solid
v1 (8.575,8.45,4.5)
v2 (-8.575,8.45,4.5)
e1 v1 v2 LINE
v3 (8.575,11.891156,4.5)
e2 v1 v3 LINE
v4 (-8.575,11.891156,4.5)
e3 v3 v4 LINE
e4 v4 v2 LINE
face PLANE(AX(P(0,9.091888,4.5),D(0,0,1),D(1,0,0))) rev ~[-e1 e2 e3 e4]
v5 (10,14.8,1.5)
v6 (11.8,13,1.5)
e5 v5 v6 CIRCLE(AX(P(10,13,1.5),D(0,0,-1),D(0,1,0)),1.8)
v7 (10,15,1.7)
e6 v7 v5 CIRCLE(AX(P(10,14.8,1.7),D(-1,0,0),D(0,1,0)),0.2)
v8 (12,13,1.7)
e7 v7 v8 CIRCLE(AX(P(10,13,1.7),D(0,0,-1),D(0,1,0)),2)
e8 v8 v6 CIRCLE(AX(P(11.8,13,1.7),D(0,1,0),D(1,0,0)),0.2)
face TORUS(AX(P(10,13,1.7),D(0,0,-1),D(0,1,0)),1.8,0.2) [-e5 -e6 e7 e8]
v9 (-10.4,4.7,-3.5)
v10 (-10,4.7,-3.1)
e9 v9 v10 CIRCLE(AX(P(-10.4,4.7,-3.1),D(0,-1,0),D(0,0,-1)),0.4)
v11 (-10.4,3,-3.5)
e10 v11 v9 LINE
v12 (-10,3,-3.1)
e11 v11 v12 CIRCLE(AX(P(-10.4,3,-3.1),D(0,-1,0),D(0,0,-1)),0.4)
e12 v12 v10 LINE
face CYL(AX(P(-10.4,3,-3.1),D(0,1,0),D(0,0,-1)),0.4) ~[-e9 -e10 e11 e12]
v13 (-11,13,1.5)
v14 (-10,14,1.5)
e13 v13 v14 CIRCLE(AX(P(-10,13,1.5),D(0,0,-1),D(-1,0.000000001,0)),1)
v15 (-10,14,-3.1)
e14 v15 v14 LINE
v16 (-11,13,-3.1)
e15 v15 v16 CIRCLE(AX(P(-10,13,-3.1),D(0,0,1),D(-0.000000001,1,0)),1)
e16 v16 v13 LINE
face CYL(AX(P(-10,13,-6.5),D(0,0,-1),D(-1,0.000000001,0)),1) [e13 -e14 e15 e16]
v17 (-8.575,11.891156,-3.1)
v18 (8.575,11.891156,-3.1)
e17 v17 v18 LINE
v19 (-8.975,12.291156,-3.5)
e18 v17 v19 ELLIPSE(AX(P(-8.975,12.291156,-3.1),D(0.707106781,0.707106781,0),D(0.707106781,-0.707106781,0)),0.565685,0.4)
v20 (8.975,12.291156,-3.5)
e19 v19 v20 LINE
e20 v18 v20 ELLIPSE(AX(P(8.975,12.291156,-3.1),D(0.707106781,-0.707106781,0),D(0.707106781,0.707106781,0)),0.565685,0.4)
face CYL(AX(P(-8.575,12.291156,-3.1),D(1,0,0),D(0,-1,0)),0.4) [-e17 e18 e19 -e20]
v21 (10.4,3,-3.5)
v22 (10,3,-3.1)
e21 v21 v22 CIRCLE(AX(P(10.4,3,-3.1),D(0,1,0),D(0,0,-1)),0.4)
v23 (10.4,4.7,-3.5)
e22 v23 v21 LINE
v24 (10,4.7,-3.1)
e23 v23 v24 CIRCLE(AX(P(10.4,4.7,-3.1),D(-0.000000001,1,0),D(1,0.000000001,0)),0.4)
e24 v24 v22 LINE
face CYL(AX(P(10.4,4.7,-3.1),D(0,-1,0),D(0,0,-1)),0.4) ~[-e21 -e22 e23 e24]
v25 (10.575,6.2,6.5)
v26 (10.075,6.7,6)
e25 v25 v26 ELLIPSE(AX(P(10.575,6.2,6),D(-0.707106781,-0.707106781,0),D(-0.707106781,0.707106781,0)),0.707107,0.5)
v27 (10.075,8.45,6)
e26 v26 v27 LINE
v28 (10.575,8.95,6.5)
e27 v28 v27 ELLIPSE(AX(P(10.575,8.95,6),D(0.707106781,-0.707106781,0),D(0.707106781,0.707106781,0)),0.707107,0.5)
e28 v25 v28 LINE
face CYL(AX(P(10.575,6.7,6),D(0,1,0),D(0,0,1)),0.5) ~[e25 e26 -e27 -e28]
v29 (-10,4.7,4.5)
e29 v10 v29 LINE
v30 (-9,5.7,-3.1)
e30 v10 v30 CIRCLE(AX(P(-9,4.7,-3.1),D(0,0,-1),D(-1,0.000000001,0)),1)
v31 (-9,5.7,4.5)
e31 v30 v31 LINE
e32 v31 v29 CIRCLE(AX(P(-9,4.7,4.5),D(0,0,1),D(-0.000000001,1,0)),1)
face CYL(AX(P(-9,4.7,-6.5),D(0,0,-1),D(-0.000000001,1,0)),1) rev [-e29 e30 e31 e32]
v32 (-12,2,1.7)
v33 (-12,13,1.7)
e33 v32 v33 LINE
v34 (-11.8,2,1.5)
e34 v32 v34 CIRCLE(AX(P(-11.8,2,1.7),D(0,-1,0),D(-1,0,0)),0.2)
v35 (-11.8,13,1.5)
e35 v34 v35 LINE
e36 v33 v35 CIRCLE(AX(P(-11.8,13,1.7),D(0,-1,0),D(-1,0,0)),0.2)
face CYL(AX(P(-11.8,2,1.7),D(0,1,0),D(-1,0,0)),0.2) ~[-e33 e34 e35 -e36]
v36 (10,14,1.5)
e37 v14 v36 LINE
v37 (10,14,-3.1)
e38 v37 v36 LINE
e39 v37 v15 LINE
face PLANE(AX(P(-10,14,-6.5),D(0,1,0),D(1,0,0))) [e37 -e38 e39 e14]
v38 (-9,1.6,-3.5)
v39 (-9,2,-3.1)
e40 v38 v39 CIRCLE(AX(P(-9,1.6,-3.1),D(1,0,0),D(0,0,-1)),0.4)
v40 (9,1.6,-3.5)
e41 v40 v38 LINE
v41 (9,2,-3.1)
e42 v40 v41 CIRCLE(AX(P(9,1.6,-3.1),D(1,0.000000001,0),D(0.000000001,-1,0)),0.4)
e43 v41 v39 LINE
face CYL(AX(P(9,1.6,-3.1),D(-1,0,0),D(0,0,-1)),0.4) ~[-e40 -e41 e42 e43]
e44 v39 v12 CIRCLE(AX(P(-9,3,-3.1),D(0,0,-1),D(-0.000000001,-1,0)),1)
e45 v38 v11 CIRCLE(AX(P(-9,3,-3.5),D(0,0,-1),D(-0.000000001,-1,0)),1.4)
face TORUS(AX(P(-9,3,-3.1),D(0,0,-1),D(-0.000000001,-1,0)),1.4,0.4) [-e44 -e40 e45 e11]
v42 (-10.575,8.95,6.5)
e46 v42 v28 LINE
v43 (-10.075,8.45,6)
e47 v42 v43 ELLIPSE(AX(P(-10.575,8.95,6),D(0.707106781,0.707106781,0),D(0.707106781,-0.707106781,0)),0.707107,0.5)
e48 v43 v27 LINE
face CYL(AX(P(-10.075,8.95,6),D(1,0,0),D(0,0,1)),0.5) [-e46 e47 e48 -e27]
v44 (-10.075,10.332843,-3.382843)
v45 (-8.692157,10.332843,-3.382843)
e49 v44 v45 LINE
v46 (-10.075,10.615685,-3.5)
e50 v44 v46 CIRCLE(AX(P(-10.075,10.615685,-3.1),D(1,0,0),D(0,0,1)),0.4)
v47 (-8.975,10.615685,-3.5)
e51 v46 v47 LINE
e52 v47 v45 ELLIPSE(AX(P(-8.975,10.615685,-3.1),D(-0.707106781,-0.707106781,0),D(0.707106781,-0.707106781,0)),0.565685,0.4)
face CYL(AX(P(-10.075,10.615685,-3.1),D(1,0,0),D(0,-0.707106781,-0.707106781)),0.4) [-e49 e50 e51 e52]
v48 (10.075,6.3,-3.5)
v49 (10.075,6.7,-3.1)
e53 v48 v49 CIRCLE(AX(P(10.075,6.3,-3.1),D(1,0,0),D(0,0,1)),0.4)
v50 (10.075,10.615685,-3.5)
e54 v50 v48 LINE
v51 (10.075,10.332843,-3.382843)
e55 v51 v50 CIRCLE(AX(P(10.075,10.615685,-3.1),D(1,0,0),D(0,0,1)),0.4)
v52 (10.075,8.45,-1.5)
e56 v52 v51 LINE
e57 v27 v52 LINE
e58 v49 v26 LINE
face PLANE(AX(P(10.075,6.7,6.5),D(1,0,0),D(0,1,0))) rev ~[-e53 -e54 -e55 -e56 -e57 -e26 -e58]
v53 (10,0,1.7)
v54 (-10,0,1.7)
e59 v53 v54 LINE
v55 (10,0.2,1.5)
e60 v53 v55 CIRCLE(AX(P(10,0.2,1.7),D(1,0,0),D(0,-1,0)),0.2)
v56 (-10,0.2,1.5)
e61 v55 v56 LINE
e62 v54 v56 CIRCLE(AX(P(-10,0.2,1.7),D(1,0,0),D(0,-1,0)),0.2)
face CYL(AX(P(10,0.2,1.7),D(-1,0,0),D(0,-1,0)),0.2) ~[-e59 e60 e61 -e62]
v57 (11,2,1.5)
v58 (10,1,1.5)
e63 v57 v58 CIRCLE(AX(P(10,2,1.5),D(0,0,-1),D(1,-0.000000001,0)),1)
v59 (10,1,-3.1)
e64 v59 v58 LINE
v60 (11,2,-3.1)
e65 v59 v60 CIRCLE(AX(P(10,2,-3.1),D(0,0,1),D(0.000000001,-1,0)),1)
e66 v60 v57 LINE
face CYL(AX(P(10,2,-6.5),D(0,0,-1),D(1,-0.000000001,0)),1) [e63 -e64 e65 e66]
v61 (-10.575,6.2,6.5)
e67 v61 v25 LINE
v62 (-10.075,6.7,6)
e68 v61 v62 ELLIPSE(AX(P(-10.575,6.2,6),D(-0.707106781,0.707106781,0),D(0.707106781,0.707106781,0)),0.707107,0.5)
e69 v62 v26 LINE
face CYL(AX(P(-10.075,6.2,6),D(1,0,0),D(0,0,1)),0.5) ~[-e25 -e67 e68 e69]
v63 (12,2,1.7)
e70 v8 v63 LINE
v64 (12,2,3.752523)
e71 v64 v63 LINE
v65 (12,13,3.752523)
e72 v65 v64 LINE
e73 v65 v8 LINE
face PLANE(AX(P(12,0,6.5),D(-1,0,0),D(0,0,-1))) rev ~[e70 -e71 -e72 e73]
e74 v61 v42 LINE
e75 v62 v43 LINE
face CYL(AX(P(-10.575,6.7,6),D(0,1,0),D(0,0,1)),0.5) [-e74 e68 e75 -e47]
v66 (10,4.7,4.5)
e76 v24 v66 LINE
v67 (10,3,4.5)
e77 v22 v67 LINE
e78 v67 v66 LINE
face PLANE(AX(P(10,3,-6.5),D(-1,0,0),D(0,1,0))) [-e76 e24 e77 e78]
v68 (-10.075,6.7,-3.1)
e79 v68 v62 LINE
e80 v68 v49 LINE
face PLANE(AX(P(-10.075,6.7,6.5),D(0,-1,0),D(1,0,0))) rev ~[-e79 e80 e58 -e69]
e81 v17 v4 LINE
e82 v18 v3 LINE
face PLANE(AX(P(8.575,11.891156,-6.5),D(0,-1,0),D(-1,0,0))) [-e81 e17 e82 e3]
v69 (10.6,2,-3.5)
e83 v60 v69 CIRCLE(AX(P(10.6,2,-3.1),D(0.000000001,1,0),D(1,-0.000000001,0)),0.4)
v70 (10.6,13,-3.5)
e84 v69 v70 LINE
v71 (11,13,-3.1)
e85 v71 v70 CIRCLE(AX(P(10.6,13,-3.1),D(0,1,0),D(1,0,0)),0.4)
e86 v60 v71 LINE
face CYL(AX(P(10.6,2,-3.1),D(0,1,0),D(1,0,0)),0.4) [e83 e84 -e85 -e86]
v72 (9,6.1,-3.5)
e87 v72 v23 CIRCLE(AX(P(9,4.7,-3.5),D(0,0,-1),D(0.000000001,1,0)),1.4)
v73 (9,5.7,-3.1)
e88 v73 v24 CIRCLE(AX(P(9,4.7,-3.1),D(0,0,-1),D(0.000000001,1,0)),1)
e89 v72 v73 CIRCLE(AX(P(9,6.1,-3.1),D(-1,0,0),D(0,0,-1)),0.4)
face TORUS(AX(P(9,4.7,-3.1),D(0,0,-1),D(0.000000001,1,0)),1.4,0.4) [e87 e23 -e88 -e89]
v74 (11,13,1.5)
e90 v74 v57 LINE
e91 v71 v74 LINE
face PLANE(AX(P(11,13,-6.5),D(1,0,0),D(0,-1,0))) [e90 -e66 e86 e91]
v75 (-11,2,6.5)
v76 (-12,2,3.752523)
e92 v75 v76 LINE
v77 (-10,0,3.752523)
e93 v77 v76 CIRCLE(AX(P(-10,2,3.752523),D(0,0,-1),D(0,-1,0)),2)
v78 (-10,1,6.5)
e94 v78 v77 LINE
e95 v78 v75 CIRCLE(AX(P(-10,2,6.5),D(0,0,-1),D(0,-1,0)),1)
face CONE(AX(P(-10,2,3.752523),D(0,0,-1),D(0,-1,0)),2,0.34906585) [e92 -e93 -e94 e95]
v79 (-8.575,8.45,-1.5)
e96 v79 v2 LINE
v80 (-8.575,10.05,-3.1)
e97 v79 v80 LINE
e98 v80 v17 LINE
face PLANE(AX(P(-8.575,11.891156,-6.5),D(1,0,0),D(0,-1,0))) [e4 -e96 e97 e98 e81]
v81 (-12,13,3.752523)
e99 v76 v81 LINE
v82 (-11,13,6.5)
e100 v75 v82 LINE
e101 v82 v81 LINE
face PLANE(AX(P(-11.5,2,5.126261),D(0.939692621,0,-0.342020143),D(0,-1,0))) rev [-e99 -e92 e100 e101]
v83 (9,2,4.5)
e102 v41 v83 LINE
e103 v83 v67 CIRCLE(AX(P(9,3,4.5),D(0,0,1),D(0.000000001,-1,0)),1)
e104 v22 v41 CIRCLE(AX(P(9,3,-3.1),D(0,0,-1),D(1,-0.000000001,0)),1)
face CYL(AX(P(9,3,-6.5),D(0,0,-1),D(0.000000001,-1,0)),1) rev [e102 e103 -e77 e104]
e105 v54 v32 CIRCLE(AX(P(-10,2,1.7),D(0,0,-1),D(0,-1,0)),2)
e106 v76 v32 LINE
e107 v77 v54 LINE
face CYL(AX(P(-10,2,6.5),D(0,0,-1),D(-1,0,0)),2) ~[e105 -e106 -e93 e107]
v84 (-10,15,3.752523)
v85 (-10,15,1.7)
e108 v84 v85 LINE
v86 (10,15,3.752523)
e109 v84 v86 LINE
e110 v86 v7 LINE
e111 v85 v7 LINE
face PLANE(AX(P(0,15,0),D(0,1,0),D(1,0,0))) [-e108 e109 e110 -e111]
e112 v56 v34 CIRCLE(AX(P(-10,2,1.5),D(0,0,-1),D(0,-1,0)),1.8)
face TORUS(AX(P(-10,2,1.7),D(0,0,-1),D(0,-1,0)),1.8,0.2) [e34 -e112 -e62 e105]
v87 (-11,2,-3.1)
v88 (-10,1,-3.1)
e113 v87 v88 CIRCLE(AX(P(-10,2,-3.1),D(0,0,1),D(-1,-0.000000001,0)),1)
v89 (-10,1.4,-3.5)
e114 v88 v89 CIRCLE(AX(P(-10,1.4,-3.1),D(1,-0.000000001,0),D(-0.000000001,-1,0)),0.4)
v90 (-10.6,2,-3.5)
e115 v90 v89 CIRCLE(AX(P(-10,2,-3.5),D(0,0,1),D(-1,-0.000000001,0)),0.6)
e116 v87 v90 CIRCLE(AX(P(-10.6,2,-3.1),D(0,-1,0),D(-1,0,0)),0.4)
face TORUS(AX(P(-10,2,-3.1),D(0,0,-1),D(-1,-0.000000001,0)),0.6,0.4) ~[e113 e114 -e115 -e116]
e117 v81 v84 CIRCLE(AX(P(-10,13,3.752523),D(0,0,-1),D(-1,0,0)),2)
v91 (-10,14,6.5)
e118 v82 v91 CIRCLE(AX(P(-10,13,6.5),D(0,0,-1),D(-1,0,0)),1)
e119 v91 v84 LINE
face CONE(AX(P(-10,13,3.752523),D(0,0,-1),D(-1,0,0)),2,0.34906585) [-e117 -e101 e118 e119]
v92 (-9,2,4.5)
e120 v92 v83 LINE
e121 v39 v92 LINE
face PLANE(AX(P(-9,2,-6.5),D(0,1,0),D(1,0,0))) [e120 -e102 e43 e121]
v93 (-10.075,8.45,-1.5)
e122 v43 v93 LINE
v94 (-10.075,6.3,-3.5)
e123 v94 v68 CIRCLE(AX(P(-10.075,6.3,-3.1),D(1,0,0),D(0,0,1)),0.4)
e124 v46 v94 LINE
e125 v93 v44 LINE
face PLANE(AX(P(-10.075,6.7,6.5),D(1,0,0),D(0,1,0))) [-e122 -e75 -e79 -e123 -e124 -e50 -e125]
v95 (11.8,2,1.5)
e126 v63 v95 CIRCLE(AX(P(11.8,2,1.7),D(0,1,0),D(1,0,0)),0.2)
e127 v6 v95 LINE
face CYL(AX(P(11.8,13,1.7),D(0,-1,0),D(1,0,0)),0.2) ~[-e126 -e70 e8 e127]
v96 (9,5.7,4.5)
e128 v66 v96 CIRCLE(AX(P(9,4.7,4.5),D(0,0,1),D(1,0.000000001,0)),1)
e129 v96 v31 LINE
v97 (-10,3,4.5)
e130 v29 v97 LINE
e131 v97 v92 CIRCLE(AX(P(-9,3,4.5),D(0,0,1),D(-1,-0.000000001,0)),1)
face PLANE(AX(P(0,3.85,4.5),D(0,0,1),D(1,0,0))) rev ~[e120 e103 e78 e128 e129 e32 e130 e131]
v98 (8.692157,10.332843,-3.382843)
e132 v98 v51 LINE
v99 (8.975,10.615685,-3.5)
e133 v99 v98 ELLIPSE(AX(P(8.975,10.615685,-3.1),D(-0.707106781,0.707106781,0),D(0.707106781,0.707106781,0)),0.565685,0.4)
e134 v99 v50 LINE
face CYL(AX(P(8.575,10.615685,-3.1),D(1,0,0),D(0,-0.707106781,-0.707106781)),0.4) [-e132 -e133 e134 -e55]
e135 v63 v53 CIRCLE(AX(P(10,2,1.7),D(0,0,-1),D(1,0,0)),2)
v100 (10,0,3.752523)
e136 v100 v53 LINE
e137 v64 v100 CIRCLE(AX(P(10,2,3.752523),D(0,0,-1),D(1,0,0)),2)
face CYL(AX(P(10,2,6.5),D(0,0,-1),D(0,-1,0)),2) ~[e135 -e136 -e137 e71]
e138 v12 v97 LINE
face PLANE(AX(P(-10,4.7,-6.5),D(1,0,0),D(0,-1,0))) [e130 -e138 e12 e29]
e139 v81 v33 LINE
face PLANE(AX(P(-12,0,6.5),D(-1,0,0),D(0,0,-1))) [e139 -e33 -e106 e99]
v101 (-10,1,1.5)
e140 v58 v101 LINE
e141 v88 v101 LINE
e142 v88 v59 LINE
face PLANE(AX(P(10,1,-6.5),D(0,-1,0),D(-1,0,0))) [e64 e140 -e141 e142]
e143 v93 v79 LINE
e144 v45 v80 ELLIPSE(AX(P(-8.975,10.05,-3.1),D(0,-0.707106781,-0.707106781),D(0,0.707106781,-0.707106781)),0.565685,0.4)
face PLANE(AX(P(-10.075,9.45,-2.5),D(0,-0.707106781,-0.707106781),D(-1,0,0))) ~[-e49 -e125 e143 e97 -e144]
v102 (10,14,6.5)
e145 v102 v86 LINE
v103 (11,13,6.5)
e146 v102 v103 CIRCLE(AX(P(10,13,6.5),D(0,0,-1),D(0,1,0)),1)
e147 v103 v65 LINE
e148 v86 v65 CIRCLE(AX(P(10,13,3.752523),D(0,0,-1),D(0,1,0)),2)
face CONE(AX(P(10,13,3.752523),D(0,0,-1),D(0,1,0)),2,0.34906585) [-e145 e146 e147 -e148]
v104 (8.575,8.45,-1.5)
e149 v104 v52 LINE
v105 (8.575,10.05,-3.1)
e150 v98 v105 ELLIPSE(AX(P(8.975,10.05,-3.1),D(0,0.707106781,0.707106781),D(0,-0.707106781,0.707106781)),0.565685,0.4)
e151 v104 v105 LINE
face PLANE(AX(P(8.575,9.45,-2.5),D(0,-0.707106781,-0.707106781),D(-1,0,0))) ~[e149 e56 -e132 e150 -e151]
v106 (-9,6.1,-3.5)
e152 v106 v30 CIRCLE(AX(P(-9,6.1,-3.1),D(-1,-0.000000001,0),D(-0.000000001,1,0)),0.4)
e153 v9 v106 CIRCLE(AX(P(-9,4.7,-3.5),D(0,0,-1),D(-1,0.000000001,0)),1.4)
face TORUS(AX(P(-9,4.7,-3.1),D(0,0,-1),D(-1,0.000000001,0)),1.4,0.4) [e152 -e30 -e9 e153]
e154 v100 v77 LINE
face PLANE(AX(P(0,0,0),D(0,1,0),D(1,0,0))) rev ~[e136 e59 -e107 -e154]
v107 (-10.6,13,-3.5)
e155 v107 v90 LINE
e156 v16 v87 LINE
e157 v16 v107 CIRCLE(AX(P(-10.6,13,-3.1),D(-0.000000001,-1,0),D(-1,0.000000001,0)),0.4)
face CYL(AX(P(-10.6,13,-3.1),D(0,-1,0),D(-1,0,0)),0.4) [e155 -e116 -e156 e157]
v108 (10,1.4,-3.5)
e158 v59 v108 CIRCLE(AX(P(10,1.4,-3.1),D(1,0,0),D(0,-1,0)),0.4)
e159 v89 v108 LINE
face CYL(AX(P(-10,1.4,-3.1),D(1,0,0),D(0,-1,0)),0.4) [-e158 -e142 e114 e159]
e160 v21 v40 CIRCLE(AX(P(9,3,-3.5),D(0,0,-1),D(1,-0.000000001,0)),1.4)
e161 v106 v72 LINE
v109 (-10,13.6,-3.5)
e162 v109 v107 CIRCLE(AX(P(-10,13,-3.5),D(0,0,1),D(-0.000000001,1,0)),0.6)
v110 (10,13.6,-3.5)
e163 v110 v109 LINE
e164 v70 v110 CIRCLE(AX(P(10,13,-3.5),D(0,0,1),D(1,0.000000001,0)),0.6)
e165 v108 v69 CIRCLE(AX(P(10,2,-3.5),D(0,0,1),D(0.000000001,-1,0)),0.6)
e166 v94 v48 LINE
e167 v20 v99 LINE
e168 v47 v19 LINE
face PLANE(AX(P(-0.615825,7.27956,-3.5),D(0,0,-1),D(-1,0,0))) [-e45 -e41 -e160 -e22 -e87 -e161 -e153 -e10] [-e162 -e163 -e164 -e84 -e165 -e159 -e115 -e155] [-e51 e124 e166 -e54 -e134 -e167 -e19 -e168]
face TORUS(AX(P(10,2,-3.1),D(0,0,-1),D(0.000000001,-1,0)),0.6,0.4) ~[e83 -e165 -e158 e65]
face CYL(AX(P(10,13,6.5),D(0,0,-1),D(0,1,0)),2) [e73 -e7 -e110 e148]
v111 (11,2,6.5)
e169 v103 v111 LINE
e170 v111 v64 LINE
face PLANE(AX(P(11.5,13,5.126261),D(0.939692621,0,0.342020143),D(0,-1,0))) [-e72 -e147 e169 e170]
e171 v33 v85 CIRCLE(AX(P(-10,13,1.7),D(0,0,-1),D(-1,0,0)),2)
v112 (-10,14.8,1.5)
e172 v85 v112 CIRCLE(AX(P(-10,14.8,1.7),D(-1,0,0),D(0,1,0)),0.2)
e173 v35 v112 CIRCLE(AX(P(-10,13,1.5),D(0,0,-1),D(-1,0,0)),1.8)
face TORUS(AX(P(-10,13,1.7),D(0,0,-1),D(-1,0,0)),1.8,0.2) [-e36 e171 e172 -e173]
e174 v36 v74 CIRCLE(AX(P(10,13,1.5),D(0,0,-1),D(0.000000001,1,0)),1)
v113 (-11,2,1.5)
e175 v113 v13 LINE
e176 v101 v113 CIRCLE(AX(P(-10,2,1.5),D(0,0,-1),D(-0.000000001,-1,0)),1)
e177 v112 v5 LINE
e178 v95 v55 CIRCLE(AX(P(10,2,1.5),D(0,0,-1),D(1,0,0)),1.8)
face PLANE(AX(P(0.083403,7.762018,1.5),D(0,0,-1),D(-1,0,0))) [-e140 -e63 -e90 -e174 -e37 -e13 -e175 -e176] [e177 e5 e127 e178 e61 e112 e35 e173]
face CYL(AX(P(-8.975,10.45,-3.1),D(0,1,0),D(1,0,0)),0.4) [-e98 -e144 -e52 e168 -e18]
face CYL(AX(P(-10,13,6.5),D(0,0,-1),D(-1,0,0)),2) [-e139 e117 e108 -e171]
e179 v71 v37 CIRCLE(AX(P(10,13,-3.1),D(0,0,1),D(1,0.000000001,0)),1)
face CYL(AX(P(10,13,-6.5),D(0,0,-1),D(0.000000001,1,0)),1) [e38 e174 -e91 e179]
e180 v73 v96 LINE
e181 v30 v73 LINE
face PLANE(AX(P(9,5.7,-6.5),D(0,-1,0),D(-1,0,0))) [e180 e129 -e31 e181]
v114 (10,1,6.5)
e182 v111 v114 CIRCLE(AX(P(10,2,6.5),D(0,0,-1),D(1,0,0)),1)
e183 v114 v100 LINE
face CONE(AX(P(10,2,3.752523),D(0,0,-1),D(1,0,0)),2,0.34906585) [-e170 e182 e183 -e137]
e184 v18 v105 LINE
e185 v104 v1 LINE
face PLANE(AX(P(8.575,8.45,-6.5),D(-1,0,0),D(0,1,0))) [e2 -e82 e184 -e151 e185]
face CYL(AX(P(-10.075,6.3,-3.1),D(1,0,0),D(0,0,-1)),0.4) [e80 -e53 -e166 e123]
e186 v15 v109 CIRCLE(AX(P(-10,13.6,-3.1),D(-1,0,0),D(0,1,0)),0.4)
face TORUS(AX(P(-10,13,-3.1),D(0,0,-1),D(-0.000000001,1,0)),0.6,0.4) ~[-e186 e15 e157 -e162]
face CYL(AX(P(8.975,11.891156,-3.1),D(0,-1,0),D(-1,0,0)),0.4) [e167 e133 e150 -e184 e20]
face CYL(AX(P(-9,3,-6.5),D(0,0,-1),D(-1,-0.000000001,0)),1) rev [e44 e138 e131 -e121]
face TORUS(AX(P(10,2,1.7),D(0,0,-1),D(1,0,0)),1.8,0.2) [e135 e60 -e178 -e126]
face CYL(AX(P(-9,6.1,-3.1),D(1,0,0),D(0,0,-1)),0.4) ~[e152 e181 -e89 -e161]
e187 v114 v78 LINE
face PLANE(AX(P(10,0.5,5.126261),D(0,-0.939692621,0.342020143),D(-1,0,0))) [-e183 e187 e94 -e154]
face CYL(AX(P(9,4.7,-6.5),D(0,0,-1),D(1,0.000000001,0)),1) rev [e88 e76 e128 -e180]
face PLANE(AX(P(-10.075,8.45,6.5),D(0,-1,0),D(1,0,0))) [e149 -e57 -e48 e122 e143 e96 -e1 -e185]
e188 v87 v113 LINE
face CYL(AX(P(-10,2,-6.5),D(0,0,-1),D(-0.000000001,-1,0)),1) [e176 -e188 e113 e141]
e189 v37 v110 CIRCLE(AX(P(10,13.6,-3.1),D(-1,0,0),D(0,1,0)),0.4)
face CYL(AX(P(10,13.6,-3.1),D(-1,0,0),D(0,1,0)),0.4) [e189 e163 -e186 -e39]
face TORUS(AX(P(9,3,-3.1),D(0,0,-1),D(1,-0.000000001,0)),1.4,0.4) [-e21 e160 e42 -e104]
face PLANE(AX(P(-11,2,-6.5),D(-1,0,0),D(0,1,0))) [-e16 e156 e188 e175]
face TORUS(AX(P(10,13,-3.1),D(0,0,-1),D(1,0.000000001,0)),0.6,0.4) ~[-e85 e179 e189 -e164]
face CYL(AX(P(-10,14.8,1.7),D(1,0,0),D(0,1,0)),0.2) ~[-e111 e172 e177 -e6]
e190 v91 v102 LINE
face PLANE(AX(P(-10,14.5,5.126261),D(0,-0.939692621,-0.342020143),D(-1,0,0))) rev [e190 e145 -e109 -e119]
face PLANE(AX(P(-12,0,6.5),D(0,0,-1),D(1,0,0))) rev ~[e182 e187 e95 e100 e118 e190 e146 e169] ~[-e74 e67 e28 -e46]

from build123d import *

# Parameters (mm, degrees)
SKETCH1_W           = 24
SKETCH1_H           = 13
BOSS_EXTRUDE1_DEPTH = 15
SKETCH2_W           = 20.15
SKETCH2_H           = 1.75
CUT_EXTRUDE1_DEPTH  = 15
FILLET1_R           = 2
CHAMFER2_SIZE       = 1
CHAMFER2_SIZE2      = 2.747477419
FILLET2_R           = 0.5
CUT_EXTRUDE4_DEPTH  = 11
SKETCH5_W           = 26.855674208
SKETCH5_H           = 19.307728506
CUT_EXTRUDE5_DEPTH  = 8
CUT_EXTRUDE6_DEPTH  = 11
SKETCH7_W           = 29.982721697
SKETCH7_H           = 21.559004648
CUT_EXTRUDE7_DEPTH  = 3
CHAMFER3_SIZE       = 2
FILLET3_R           = 0.4
FILLET4_R           = 0.2


with BuildPart() as part:
    # Sketch1 → Boss-Extrude1 (new body)
    with BuildSketch(Plane(origin=(0, 0, 0), x_dir=(1, 0, 0), z_dir=(0, 1, 0))):
        Rectangle(SKETCH1_W, SKETCH1_H)
    extrude(amount=BOSS_EXTRUDE1_DEPTH)

    # Sketch2 → Cut-Extrude1 (cut)
    with BuildSketch(Plane.XY.offset(6.5)):
        with Locations((0, 7.575)):
            Rectangle(SKETCH2_W, SKETCH2_H)
    extrude(amount=-CUT_EXTRUDE1_DEPTH, mode=Mode.SUBTRACT)

    # Fillet1
    fillet1_edges = [part.edges().sort_by_distance(p)[0] for p in [
        (-12, 15, 0),
        (12, 15, 0),
        (-12, 0, 0),
        (12, 0, 0),
    ]]
    fillet(fillet1_edges, radius=FILLET1_R)

    # Chamfer2
    chamfer2_edges = [part.edges().sort_by_distance(p)[0] for p in [
        (0, 15, 6.5),
        (12, 7.5, 6.5),
        (0, 0, 6.5),
        (-12, 7.5, 6.5),
        (-11.414213562, 14.414213562, 6.5),
        (-11.414213562, 0.585786438, 6.5),
        (11.414213562, 0.585786438, 6.5),
        (11.414213562, 14.414213562, 6.5),
    ]]
    chamfer2_side = [part.faces().sort_by_distance(p)[0] for p in [
        (11.716980566, 7.5, 6.5),
    ]]
    chamfer(chamfer2_edges, length=CHAMFER2_SIZE, length2=CHAMFER2_SIZE2, reference=chamfer2_side[0])

    # Fillet2
    fillet2_edges = [part.edges().sort_by_distance(p)[0] for p in [
        (10.075, 7.575, 6.5),
        (0, 8.45, 6.5),
        (-10.075, 7.575, 6.5),
        (0, 6.7, 6.5),
    ]]
    fillet(fillet2_edges, radius=FILLET2_R)

    # Sketch4 → Cut-Extrude4 (cut)
    with BuildSketch(Plane(origin=(0, 0, -6.5), x_dir=(-1, 0, 0), z_dir=(0, 0, -1))):
        Polygon((-10.075, 8.45), (-8.575, 8.45), (-8.575, 11.891155889), (8.575, 11.891155889), (8.575, 8.45), (10.075, 8.45), (10.075, 6.7), (-10.075, 6.7), align=None)
    extrude(amount=-CUT_EXTRUDE4_DEPTH, mode=Mode.SUBTRACT)

    # Sketch5 → Cut-Extrude5 (cut)
    with BuildSketch(Plane(origin=(0, 0, -6.5), x_dir=(-1, 0, 0), z_dir=(0, 0, -1))):
        with Locations((-0.083402715, 7.762018115)):
            Rectangle(SKETCH5_W, SKETCH5_H)
        with BuildLine():
            Line((10, 14), (-10, 14))
            ThreePointArc((-10, 14), (-10.707106781, 13.707106781), (-11, 13))
            Line((-11, 13), (-11, 2))
            ThreePointArc((-11, 2), (-10.707106781, 1.292893219), (-10, 1))
            Line((-10, 1), (10, 1))
            ThreePointArc((10, 1), (10.707106781, 1.292893219), (11, 2))
            Line((11, 2), (11, 13))
            ThreePointArc((11, 13), (10.707106781, 13.707106781), (10, 14))
        make_face(mode=Mode.SUBTRACT)
    extrude(amount=-CUT_EXTRUDE5_DEPTH, mode=Mode.SUBTRACT)

    # Sketch6 → Cut-Extrude6 (cut)
    with BuildSketch(Plane(origin=(0, 0, -6.5), x_dir=(-1, 0, 0), z_dir=(0, 0, -1))):
        with BuildLine():
            Line((-9, 5.7), (9, 5.7))
            ThreePointArc((9, 5.7), (9.707106781, 5.407106781), (10, 4.7))
            Line((10, 4.7), (10, 3))
            ThreePointArc((10, 3), (9.707106781, 2.292893219), (9, 2))
            Line((9, 2), (-9, 2))
            ThreePointArc((-9, 2), (-9.707106781, 2.292893219), (-10, 3))
            Line((-10, 3), (-10, 4.7))
            ThreePointArc((-10, 4.7), (-9.707106781, 5.407106781), (-9, 5.7))
        make_face()
    extrude(amount=-CUT_EXTRUDE6_DEPTH, mode=Mode.SUBTRACT)

    # Sketch7 → Cut-Extrude7 (cut)
    with BuildSketch(Plane(origin=(0, 0, -6.5), x_dir=(-1, 0, 0), z_dir=(0, 0, -1))):
        with Locations((0.615824589, 7.279559508)):
            Rectangle(SKETCH7_W, SKETCH7_H)
    extrude(amount=-CUT_EXTRUDE7_DEPTH, mode=Mode.SUBTRACT)

    # Chamfer3
    chamfer3_edges = [part.edges().sort_by_distance(p)[0] for p in [
        (9.325, 8.45, -3.5),
        (-9.325, 8.45, -3.5),
    ]]
    chamfer(chamfer3_edges, length=CHAMFER3_SIZE)

    # Fillet3
    fillet3_edges = [part.edges().sort_by_distance(p)[0] for p in [
        (-10, 3.85, -3.5),
        (0, 14, -3.5),
        (-10.707106781, 13.707106781, -3.5),
        (-11, 7.5, -3.5),
        (-10.707106781, 1.292893219, -3.5),
        (0, 1, -3.5),
        (10.707106781, 1.292893219, -3.5),
        (11, 7.5, -3.5),
        (10.707106781, 13.707106781, -3.5),
        (0, 6.7, -3.5),
        (0, 11.891155889, -3.5),
        (-8.575, 11.170577944, -3.5),
        (-9.707106781, 2.292893219, -3.5),
        (0, 2, -3.5),
        (9.707106781, 2.292893219, -3.5),
        (10, 3.85, -3.5),
        (9.707106781, 5.407106781, -3.5),
        (0, 5.7, -3.5),
        (-9.707106781, 5.407106781, -3.5),
        (8.575, 11.170577944, -3.5),
        (-9.325, 10.45, -3.5),
        (9.325, 10.45, -3.5),
    ]]
    fillet(fillet3_edges, radius=FILLET3_R)

    # Fillet4
    fillet4_edges = [part.edges().sort_by_distance(p)[0] for p in [
        (-11.414213562, 14.414213562, 1.5),
        (0, 0, 1.5),
        (-12, 7.5, 1.5),
        (12, 7.5, 1.5),
        (11.414213562, 0.585786438, 1.5),
        (11.414213562, 14.414213562, 1.5),
        (0, 15, 1.5),
        (-11.414213562, 0.585786438, 1.5),
    ]]
    fillet(fillet4_edges, radius=FILLET4_R)


solid = part.part
